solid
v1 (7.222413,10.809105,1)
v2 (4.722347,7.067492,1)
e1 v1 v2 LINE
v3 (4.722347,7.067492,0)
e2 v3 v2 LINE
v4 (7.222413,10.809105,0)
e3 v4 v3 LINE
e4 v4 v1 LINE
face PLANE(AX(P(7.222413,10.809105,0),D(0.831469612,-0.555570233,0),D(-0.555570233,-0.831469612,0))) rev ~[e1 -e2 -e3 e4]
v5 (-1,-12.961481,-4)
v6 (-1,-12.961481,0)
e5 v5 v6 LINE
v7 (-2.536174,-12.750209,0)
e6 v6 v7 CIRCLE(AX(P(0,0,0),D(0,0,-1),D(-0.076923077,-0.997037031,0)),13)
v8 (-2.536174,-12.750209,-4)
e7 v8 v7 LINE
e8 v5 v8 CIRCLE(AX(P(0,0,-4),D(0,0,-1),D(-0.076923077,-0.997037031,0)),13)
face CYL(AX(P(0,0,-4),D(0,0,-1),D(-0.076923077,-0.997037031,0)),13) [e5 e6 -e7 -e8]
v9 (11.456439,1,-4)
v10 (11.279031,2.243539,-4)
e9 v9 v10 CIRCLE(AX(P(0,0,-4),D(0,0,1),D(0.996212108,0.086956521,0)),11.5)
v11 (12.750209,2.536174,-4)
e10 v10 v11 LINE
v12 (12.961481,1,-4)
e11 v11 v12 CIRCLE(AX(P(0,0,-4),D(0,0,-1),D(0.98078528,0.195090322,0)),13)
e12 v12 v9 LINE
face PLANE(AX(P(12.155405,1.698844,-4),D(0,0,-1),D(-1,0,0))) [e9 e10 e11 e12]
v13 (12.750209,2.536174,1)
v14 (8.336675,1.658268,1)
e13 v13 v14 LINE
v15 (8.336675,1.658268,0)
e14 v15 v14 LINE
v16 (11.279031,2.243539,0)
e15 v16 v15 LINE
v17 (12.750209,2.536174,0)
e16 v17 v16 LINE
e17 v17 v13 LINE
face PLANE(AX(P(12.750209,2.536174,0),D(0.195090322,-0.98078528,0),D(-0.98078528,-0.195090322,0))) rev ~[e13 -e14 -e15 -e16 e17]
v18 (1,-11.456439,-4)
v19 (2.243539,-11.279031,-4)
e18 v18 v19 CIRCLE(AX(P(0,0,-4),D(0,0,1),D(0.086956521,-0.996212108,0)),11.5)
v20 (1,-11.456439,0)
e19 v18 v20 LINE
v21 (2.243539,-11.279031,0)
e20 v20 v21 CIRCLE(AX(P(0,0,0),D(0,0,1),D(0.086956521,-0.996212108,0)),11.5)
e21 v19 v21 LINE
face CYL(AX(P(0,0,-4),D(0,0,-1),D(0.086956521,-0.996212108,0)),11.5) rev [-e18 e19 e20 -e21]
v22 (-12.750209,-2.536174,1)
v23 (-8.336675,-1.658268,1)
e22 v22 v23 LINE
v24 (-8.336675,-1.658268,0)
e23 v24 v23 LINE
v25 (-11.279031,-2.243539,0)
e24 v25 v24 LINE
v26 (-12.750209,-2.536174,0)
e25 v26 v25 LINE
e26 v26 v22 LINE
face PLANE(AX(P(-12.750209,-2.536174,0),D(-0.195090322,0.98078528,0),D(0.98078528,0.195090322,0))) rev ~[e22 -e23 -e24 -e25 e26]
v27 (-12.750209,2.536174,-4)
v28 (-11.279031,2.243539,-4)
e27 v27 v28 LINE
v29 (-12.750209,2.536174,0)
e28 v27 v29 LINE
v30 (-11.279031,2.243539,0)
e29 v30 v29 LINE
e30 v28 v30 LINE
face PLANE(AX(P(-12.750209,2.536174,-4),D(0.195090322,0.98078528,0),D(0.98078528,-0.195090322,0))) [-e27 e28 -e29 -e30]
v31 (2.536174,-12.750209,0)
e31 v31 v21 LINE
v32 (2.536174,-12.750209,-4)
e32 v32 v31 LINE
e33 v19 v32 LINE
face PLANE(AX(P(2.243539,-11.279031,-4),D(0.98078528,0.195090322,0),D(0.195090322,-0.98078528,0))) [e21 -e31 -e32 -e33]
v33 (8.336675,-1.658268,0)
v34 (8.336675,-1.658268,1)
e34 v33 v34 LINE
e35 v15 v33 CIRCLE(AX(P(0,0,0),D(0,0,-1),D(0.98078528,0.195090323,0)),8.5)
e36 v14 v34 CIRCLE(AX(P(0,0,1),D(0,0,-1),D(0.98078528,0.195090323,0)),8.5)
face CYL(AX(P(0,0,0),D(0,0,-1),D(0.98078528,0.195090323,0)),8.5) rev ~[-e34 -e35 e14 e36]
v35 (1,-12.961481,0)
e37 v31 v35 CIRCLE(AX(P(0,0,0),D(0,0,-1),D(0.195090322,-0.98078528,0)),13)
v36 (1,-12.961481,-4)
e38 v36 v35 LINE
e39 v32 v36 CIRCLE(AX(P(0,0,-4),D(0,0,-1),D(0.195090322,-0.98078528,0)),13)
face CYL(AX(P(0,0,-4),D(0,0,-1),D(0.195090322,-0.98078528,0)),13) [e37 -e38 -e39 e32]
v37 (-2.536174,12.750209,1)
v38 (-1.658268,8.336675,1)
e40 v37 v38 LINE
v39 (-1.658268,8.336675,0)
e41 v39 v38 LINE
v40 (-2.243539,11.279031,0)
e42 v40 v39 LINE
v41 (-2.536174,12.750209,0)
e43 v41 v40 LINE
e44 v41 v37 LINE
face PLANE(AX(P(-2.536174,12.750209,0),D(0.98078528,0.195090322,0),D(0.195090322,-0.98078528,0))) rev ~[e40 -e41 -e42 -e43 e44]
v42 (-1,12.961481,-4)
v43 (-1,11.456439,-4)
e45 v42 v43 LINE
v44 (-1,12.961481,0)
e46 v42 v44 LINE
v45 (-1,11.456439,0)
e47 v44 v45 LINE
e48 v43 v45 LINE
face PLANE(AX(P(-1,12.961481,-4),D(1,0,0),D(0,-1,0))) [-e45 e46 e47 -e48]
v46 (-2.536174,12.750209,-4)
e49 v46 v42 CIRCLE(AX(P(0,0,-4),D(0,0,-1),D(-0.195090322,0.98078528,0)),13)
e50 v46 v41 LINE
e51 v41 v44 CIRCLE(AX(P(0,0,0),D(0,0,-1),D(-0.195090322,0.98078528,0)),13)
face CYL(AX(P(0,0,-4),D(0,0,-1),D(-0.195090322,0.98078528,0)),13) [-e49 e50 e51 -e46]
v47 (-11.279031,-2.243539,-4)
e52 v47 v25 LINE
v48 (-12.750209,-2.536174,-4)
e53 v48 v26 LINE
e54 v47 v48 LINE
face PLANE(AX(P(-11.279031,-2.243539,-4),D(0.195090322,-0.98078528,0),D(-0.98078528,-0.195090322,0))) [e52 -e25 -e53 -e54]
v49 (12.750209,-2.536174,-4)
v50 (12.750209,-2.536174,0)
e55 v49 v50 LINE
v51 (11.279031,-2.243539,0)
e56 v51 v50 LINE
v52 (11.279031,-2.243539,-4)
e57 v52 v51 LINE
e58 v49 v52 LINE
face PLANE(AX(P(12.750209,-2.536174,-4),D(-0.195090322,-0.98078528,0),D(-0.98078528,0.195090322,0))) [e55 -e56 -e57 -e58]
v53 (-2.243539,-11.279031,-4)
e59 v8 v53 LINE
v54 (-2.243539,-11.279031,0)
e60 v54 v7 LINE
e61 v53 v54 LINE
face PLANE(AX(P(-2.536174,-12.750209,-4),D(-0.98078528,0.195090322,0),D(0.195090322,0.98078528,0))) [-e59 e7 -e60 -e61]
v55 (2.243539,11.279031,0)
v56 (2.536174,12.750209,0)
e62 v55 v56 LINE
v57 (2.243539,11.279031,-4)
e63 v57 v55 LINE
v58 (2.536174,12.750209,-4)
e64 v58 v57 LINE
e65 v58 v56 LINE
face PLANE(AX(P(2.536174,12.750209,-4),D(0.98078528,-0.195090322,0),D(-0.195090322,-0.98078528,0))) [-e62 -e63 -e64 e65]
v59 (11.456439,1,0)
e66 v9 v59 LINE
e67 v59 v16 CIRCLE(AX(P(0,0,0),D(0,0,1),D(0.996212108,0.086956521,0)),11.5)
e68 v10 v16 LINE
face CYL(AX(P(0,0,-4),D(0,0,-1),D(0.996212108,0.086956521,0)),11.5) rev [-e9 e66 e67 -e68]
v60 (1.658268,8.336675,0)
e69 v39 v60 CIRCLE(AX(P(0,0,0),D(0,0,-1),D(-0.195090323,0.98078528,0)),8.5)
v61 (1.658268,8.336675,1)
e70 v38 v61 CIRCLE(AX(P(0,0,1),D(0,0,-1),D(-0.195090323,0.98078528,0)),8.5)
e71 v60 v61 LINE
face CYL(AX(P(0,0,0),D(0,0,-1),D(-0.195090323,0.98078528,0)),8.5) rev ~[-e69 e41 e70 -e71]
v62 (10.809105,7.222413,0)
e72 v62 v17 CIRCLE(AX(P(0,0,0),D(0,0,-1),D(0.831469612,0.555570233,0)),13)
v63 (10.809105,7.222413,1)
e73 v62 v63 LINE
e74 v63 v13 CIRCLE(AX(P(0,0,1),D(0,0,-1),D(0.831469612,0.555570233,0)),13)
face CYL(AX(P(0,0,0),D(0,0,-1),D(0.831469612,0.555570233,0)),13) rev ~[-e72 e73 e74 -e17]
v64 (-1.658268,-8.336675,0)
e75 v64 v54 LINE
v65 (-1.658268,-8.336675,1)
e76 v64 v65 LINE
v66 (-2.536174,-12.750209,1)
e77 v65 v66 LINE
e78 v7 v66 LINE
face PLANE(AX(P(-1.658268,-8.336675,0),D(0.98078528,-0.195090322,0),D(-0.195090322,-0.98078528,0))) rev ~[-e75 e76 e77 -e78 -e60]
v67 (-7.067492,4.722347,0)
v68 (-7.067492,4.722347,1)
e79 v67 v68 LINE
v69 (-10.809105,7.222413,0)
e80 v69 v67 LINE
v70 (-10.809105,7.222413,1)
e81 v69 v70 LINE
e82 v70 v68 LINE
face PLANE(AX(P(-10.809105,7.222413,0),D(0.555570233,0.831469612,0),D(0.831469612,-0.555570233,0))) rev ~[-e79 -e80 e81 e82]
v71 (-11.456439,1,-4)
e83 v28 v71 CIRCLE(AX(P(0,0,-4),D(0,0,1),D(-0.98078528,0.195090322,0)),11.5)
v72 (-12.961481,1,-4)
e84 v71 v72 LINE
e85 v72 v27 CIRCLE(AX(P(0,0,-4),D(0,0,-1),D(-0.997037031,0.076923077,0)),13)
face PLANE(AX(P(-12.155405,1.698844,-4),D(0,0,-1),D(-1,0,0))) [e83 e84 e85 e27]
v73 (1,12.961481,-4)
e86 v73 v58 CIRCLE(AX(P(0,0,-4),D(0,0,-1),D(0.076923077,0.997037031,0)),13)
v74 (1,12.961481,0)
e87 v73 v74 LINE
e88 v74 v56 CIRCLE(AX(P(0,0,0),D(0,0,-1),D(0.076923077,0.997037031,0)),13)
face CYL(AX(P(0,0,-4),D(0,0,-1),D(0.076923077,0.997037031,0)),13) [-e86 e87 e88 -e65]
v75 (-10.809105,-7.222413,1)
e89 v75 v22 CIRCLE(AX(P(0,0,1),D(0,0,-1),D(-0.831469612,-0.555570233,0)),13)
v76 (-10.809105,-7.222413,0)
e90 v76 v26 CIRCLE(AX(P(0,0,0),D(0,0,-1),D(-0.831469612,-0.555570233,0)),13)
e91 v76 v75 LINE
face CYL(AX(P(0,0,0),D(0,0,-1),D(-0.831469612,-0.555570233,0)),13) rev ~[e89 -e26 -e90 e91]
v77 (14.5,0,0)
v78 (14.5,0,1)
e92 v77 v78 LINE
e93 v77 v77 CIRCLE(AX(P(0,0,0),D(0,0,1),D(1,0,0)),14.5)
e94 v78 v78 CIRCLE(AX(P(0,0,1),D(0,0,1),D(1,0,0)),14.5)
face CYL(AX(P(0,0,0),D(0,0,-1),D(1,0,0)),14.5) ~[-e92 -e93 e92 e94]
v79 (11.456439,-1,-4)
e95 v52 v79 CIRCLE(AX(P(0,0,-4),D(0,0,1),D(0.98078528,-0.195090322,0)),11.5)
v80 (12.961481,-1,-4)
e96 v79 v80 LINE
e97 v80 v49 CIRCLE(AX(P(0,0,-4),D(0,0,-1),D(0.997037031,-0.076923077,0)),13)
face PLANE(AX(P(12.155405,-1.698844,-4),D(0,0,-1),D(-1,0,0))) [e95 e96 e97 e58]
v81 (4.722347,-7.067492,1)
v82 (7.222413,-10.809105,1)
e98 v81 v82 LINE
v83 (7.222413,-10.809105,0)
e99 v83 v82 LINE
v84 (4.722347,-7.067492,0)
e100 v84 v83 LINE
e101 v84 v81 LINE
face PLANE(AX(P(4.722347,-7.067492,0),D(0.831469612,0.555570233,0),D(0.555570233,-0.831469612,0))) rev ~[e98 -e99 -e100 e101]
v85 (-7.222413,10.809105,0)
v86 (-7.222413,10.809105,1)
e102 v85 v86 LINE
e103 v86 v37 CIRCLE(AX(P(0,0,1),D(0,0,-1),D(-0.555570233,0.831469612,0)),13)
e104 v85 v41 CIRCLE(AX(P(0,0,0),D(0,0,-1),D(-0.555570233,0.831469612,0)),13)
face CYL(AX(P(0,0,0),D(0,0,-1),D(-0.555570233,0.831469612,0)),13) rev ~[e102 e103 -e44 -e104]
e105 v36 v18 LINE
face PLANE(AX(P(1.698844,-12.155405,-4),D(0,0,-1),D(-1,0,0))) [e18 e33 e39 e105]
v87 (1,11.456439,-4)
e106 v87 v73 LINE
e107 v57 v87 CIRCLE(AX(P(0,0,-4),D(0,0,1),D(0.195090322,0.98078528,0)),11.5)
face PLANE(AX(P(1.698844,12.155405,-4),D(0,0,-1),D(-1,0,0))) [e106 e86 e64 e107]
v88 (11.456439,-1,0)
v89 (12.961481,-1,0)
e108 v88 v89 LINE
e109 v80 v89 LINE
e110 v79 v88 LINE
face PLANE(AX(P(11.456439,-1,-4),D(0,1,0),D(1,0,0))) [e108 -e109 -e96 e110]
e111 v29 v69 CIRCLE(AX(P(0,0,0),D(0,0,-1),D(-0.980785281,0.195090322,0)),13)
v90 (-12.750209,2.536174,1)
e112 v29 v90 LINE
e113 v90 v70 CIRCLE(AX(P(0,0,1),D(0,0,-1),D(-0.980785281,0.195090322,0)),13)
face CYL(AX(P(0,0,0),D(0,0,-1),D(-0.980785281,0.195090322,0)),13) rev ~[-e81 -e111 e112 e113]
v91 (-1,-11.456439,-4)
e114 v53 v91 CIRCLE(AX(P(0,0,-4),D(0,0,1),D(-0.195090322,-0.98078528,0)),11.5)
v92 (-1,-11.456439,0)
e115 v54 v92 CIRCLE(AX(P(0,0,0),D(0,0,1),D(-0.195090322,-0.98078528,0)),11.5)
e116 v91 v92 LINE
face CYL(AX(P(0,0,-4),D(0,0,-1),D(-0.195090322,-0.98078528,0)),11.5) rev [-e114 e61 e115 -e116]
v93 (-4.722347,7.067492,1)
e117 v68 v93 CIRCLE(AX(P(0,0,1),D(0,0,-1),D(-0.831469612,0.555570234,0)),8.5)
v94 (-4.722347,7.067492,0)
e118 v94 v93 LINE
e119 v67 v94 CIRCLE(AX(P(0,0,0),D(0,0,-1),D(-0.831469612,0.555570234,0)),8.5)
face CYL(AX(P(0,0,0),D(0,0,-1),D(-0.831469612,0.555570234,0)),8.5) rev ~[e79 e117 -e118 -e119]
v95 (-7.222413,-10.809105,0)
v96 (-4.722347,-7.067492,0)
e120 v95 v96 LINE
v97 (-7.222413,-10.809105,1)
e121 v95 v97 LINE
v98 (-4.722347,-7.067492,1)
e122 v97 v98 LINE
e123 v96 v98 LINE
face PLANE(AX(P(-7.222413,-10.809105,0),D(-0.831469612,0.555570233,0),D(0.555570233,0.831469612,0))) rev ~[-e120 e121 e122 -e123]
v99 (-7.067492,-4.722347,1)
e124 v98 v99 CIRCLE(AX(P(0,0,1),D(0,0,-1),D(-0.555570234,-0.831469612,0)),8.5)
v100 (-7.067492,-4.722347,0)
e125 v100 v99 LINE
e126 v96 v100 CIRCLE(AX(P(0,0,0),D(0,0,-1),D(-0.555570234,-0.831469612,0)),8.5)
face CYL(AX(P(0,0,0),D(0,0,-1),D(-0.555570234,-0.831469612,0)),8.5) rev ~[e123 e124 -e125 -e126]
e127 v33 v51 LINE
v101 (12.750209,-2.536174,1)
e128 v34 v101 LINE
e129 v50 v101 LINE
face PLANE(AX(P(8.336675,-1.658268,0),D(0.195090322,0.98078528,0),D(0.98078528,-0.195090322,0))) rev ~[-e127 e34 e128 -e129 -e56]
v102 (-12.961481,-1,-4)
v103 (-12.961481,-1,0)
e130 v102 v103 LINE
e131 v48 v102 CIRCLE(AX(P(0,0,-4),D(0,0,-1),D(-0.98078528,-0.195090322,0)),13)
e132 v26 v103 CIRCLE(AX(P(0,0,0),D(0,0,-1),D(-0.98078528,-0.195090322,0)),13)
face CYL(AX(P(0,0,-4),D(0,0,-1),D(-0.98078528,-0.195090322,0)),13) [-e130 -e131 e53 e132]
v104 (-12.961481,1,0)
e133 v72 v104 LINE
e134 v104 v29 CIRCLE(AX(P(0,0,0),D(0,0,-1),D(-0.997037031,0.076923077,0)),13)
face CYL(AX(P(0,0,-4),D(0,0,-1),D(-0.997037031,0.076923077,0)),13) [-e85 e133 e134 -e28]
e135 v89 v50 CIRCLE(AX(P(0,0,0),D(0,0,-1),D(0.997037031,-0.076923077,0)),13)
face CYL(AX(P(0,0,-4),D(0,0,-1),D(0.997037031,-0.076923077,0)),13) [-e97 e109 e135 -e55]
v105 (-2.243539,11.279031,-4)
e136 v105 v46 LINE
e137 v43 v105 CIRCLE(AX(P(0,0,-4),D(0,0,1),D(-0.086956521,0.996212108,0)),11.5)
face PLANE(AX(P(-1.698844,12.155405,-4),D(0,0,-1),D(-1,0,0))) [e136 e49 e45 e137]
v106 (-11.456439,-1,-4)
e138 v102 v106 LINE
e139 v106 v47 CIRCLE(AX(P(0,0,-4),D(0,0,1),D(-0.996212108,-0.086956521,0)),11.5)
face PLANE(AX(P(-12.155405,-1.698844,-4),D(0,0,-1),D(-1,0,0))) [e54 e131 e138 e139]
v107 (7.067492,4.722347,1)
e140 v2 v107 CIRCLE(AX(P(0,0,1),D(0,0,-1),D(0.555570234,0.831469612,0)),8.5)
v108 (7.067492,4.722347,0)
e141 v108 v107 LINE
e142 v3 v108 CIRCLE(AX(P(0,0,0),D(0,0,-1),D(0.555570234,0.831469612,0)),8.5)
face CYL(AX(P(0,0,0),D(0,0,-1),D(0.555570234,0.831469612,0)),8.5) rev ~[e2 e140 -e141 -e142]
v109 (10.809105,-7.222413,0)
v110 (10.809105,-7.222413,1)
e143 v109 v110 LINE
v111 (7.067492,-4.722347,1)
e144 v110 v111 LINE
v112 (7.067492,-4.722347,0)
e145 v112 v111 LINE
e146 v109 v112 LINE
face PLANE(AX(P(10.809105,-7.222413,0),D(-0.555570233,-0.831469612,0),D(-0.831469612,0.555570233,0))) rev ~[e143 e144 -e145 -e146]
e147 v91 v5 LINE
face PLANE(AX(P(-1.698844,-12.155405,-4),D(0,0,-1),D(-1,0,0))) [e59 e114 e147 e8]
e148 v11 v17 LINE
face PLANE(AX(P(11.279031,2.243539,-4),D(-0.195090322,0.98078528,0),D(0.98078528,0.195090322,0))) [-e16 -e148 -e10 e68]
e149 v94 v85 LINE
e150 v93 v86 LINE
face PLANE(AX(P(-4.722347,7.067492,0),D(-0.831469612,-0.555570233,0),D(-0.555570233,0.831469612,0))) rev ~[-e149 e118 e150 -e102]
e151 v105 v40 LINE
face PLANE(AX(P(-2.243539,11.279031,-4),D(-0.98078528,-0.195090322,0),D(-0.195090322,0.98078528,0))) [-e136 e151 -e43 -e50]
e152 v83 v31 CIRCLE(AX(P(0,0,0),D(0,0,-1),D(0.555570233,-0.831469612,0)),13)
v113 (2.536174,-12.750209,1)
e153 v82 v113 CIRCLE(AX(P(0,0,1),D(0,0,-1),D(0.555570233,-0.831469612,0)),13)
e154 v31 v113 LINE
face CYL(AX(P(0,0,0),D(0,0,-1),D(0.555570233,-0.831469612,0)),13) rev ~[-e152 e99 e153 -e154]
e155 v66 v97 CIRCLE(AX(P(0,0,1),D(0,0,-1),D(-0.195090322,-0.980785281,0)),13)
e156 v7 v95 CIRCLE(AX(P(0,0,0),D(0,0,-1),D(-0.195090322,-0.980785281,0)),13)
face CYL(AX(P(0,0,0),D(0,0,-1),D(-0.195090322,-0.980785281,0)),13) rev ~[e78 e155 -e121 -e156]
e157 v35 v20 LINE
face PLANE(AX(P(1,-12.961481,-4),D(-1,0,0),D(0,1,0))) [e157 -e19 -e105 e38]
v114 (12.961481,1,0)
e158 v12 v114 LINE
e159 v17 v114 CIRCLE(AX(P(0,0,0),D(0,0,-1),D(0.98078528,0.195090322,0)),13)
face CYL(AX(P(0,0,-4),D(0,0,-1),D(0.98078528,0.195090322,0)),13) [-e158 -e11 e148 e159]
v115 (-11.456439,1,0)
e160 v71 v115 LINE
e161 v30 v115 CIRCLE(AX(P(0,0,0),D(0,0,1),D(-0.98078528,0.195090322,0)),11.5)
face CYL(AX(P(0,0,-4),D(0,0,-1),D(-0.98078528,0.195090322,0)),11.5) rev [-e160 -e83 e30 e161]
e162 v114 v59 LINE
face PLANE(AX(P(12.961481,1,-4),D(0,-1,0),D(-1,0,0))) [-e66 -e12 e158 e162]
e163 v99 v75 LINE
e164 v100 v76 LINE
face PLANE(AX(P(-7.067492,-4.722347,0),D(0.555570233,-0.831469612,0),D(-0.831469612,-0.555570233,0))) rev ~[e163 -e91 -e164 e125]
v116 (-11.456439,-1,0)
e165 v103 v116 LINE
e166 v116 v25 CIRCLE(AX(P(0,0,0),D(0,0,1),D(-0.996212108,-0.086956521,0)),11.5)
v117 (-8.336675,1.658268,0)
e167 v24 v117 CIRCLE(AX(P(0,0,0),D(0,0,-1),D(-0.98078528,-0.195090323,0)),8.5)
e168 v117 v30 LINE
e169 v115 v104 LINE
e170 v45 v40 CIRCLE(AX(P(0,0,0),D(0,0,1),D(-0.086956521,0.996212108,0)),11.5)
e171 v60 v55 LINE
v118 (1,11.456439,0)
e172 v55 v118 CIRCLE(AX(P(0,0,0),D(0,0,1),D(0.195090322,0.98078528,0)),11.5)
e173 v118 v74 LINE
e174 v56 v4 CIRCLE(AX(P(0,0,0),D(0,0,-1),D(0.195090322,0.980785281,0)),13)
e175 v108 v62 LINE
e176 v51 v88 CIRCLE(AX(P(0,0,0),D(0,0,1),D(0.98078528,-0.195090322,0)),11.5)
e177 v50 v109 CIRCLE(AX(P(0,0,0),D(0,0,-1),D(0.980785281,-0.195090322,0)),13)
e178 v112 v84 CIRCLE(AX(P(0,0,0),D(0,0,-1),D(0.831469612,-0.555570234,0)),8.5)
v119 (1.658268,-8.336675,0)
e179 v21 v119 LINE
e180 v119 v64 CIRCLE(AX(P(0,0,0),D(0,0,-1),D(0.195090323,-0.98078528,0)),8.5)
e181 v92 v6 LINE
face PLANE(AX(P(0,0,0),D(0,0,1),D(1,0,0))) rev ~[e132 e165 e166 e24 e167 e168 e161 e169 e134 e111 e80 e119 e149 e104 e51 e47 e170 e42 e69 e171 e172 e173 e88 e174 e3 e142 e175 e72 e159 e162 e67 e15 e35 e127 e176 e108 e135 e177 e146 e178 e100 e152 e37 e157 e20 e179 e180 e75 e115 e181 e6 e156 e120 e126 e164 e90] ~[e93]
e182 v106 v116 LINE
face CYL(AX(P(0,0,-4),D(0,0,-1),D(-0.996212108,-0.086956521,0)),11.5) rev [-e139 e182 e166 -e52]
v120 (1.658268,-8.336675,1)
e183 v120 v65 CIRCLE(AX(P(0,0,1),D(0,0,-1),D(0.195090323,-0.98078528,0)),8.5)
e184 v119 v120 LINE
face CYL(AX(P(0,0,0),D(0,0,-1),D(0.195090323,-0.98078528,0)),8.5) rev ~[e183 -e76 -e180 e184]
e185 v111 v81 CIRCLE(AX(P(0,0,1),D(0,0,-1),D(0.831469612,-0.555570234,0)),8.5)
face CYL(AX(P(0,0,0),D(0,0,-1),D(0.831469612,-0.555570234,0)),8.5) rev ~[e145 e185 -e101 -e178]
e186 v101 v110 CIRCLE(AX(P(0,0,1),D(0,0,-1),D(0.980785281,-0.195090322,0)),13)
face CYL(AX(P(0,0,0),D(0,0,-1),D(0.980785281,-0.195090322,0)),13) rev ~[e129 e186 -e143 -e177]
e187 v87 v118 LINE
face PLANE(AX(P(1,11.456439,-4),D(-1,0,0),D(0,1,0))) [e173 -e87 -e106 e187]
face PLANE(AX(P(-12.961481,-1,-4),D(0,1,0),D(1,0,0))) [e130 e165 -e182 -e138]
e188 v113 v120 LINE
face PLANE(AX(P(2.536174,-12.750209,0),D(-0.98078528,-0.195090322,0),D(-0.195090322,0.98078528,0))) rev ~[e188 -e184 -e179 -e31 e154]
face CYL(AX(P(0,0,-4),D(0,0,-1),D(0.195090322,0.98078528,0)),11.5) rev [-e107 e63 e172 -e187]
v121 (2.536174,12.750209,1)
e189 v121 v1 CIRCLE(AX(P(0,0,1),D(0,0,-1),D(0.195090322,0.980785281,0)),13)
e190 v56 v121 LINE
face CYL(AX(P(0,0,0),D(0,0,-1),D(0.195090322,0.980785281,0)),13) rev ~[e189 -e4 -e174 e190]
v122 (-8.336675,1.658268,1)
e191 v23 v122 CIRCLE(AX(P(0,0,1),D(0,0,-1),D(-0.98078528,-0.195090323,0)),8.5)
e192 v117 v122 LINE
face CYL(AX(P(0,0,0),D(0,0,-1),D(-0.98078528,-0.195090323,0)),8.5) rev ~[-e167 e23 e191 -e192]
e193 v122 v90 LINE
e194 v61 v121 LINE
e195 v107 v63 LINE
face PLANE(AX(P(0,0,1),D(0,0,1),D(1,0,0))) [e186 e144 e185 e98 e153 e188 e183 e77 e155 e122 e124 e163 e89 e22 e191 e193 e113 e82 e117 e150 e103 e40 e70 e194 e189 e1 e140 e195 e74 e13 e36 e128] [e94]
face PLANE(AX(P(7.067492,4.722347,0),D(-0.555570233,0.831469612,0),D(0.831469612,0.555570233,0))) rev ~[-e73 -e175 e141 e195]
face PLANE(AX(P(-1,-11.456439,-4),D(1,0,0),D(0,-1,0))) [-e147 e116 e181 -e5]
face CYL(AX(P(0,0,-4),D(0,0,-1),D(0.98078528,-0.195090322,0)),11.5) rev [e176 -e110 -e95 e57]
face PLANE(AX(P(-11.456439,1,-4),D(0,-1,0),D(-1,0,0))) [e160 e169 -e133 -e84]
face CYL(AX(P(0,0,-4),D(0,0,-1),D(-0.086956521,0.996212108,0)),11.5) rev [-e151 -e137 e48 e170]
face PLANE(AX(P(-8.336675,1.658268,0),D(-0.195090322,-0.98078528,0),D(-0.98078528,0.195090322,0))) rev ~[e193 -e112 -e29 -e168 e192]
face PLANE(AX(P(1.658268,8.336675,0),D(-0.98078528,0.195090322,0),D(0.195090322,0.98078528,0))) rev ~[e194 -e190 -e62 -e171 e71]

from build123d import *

# Parameters (mm, degrees)
SKETCH1_R           = 14.5
BOSS_EXTRUDE1_DEPTH = 1
BOSS_EXTRUDE2_START = 4
BOSS_EXTRUDE2_DEPTH = 4


with BuildPart() as part:
    # Sketch1 → Boss-Extrude1 (new body)
    with BuildSketch(Plane.XY):
        Circle(SKETCH1_R)
        with BuildLine():
            ThreePointArc((-1.658267737, 8.336674883), (0, 8.5), (1.658267737, 8.336674883))
            Line((1.658267737, 8.336674883), (2.536174186, 12.750208645))
            ThreePointArc((2.536174186, 12.750208645), (4.974884621, 12.010433923), (7.222413029, 10.80910496))
            Line((7.222413029, 10.80910496), (4.722346981, 7.067491705))
            ThreePointArc((4.722346981, 7.067491705), (6.01040764, 6.01040764), (7.067491705, 4.722346981))
            Line((7.067491705, 4.722346981), (10.80910496, 7.222413029))
            ThreePointArc((10.80910496, 7.222413029), (12.010433923, 4.974884621), (12.750208645, 2.536174186))
            Line((12.750208645, 2.536174186), (8.336674883, 1.658267737))
            ThreePointArc((8.336674883, 1.658267737), (8.5, 0), (8.336674883, -1.658267737))
            Line((8.336674883, -1.658267737), (12.750208645, -2.536174186))
            ThreePointArc((12.750208645, -2.536174186), (12.010433923, -4.974884621), (10.80910496, -7.222413029))
            Line((10.80910496, -7.222413029), (7.067491705, -4.722346981))
            ThreePointArc((7.067491705, -4.722346981), (6.01040764, -6.01040764), (4.722346981, -7.067491705))
            Line((4.722346981, -7.067491705), (7.222413029, -10.80910496))
            ThreePointArc((7.222413029, -10.80910496), (4.974884621, -12.010433923), (2.536174186, -12.750208645))
            Line((2.536174186, -12.750208645), (1.658267737, -8.336674883))
            ThreePointArc((1.658267737, -8.336674883), (0, -8.5), (-1.658267737, -8.336674883))
            Line((-1.658267737, -8.336674883), (-2.536174186, -12.750208645))
            ThreePointArc((-2.536174186, -12.750208645), (-4.974884621, -12.010433923), (-7.222413029, -10.80910496))
            Line((-7.222413029, -10.80910496), (-4.722346981, -7.067491705))
            ThreePointArc((-4.722346981, -7.067491705), (-6.01040764, -6.01040764), (-7.067491705, -4.722346981))
            Line((-7.067491705, -4.722346981), (-10.80910496, -7.222413029))
            ThreePointArc((-10.80910496, -7.222413029), (-12.010433923, -4.974884621), (-12.750208645, -2.536174186))
            Line((-12.750208645, -2.536174186), (-8.336674883, -1.658267737))
            ThreePointArc((-8.336674883, -1.658267737), (-8.5, 0), (-8.336674883, 1.658267737))
            Line((-8.336674883, 1.658267737), (-12.750208645, 2.536174186))
            ThreePointArc((-12.750208645, 2.536174186), (-12.010433923, 4.974884621), (-10.80910496, 7.222413029))
            Line((-10.80910496, 7.222413029), (-7.067491705, 4.722346981))
            ThreePointArc((-7.067491705, 4.722346981), (-6.01040764, 6.01040764), (-4.722346981, 7.067491705))
            Line((-4.722346981, 7.067491705), (-7.222413029, 10.80910496))
            ThreePointArc((-7.222413029, 10.80910496), (-4.974884621, 12.010433923), (-2.536174186, 12.750208645))
            Line((-2.536174186, 12.750208645), (-1.658267737, 8.336674883))
        make_face(mode=Mode.SUBTRACT)
    extrude(amount=BOSS_EXTRUDE1_DEPTH)

    # Sketch2 → Boss-Extrude2 (add)
    with BuildSketch(Plane(origin=(0, 0, 0), x_dir=(-1, 0, 0), z_dir=(0, 0, -1)).offset(BOSS_EXTRUDE2_START)):
        with BuildLine():
            Line((2.536174186, -12.750208645), (2.243538703, -11.279030725))
            ThreePointArc((2.243538703, -11.279030725), (1.624193423, -11.384726423), (1, -11.456439237))
            Line((1, -11.456439237), (1, -12.961481397))
            ThreePointArc((1, -12.961481397), (1.771239965, -12.8787697), (2.536174186, -12.750208645))
        make_face()
        with BuildLine():
            Line((-1, -12.961481397), (-1, -11.456439237))
            ThreePointArc((-1, -11.456439237), (-1.624193423, -11.384726423), (-2.243538703, -11.279030725))
            Line((-2.243538703, -11.279030725), (-2.536174186, -12.750208645))
            ThreePointArc((-2.536174186, -12.750208645), (-1.771239965, -12.8787697), (-1, -12.961481397))
        make_face()
        with BuildLine():
            Line((12.961481397, -1), (11.456439237, -1))
            ThreePointArc((11.456439237, -1), (11.384726423, -1.624193423), (11.279030725, -2.243538703))
            Line((11.279030725, -2.243538703), (12.750208645, -2.536174186))
            ThreePointArc((12.750208645, -2.536174186), (12.8787697, -1.771239965), (12.961481397, -1))
        make_face()
        with BuildLine():
            Line((12.750208645, 2.536174186), (11.279030725, 2.243538703))
            ThreePointArc((11.279030725, 2.243538703), (11.384726423, 1.624193423), (11.456439237, 1))
            Line((11.456439237, 1), (12.961481397, 1))
            ThreePointArc((12.961481397, 1), (12.8787697, 1.771239965), (12.750208645, 2.536174186))
        make_face()
        with BuildLine():
            ThreePointArc((1, 11.456439237), (1.624193423, 11.384726423), (2.243538703, 11.279030725))
            Line((2.243538703, 11.279030725), (2.536174186, 12.750208645))
            ThreePointArc((2.536174186, 12.750208645), (1.771239965, 12.8787697), (1, 12.961481397))
            Line((1, 12.961481397), (1, 11.456439237))
        make_face()
        with BuildLine():
            ThreePointArc((-2.243538703, 11.279030725), (-1.624193423, 11.384726423), (-1, 11.456439237))
            Line((-1, 11.456439237), (-1, 12.961481397))
            ThreePointArc((-1, 12.961481397), (-1.771239965, 12.8787697), (-2.536174186, 12.750208645))
            Line((-2.536174186, 12.750208645), (-2.243538703, 11.279030725))
        make_face()
        with BuildLine():
            ThreePointArc((-11.456439237, 1), (-11.384726423, 1.624193423), (-11.279030725, 2.243538703))
            Line((-11.279030725, 2.243538703), (-12.750208645, 2.536174186))
            ThreePointArc((-12.750208645, 2.536174186), (-12.8787697, 1.771239965), (-12.961481397, 1))
            Line((-12.961481397, 1), (-11.456439237, 1))
        make_face()
        with BuildLine():
            ThreePointArc((-11.279030725, -2.243538703), (-11.384726423, -1.624193423), (-11.456439237, -1))
            Line((-11.456439237, -1), (-12.961481397, -1))
            ThreePointArc((-12.961481397, -1), (-12.8787697, -1.771239965), (-12.750208645, -2.536174186))
            Line((-12.750208645, -2.536174186), (-11.279030725, -2.243538703))
        make_face()
    extrude(amount=-BOSS_EXTRUDE2_DEPTH)


solid = part.part
